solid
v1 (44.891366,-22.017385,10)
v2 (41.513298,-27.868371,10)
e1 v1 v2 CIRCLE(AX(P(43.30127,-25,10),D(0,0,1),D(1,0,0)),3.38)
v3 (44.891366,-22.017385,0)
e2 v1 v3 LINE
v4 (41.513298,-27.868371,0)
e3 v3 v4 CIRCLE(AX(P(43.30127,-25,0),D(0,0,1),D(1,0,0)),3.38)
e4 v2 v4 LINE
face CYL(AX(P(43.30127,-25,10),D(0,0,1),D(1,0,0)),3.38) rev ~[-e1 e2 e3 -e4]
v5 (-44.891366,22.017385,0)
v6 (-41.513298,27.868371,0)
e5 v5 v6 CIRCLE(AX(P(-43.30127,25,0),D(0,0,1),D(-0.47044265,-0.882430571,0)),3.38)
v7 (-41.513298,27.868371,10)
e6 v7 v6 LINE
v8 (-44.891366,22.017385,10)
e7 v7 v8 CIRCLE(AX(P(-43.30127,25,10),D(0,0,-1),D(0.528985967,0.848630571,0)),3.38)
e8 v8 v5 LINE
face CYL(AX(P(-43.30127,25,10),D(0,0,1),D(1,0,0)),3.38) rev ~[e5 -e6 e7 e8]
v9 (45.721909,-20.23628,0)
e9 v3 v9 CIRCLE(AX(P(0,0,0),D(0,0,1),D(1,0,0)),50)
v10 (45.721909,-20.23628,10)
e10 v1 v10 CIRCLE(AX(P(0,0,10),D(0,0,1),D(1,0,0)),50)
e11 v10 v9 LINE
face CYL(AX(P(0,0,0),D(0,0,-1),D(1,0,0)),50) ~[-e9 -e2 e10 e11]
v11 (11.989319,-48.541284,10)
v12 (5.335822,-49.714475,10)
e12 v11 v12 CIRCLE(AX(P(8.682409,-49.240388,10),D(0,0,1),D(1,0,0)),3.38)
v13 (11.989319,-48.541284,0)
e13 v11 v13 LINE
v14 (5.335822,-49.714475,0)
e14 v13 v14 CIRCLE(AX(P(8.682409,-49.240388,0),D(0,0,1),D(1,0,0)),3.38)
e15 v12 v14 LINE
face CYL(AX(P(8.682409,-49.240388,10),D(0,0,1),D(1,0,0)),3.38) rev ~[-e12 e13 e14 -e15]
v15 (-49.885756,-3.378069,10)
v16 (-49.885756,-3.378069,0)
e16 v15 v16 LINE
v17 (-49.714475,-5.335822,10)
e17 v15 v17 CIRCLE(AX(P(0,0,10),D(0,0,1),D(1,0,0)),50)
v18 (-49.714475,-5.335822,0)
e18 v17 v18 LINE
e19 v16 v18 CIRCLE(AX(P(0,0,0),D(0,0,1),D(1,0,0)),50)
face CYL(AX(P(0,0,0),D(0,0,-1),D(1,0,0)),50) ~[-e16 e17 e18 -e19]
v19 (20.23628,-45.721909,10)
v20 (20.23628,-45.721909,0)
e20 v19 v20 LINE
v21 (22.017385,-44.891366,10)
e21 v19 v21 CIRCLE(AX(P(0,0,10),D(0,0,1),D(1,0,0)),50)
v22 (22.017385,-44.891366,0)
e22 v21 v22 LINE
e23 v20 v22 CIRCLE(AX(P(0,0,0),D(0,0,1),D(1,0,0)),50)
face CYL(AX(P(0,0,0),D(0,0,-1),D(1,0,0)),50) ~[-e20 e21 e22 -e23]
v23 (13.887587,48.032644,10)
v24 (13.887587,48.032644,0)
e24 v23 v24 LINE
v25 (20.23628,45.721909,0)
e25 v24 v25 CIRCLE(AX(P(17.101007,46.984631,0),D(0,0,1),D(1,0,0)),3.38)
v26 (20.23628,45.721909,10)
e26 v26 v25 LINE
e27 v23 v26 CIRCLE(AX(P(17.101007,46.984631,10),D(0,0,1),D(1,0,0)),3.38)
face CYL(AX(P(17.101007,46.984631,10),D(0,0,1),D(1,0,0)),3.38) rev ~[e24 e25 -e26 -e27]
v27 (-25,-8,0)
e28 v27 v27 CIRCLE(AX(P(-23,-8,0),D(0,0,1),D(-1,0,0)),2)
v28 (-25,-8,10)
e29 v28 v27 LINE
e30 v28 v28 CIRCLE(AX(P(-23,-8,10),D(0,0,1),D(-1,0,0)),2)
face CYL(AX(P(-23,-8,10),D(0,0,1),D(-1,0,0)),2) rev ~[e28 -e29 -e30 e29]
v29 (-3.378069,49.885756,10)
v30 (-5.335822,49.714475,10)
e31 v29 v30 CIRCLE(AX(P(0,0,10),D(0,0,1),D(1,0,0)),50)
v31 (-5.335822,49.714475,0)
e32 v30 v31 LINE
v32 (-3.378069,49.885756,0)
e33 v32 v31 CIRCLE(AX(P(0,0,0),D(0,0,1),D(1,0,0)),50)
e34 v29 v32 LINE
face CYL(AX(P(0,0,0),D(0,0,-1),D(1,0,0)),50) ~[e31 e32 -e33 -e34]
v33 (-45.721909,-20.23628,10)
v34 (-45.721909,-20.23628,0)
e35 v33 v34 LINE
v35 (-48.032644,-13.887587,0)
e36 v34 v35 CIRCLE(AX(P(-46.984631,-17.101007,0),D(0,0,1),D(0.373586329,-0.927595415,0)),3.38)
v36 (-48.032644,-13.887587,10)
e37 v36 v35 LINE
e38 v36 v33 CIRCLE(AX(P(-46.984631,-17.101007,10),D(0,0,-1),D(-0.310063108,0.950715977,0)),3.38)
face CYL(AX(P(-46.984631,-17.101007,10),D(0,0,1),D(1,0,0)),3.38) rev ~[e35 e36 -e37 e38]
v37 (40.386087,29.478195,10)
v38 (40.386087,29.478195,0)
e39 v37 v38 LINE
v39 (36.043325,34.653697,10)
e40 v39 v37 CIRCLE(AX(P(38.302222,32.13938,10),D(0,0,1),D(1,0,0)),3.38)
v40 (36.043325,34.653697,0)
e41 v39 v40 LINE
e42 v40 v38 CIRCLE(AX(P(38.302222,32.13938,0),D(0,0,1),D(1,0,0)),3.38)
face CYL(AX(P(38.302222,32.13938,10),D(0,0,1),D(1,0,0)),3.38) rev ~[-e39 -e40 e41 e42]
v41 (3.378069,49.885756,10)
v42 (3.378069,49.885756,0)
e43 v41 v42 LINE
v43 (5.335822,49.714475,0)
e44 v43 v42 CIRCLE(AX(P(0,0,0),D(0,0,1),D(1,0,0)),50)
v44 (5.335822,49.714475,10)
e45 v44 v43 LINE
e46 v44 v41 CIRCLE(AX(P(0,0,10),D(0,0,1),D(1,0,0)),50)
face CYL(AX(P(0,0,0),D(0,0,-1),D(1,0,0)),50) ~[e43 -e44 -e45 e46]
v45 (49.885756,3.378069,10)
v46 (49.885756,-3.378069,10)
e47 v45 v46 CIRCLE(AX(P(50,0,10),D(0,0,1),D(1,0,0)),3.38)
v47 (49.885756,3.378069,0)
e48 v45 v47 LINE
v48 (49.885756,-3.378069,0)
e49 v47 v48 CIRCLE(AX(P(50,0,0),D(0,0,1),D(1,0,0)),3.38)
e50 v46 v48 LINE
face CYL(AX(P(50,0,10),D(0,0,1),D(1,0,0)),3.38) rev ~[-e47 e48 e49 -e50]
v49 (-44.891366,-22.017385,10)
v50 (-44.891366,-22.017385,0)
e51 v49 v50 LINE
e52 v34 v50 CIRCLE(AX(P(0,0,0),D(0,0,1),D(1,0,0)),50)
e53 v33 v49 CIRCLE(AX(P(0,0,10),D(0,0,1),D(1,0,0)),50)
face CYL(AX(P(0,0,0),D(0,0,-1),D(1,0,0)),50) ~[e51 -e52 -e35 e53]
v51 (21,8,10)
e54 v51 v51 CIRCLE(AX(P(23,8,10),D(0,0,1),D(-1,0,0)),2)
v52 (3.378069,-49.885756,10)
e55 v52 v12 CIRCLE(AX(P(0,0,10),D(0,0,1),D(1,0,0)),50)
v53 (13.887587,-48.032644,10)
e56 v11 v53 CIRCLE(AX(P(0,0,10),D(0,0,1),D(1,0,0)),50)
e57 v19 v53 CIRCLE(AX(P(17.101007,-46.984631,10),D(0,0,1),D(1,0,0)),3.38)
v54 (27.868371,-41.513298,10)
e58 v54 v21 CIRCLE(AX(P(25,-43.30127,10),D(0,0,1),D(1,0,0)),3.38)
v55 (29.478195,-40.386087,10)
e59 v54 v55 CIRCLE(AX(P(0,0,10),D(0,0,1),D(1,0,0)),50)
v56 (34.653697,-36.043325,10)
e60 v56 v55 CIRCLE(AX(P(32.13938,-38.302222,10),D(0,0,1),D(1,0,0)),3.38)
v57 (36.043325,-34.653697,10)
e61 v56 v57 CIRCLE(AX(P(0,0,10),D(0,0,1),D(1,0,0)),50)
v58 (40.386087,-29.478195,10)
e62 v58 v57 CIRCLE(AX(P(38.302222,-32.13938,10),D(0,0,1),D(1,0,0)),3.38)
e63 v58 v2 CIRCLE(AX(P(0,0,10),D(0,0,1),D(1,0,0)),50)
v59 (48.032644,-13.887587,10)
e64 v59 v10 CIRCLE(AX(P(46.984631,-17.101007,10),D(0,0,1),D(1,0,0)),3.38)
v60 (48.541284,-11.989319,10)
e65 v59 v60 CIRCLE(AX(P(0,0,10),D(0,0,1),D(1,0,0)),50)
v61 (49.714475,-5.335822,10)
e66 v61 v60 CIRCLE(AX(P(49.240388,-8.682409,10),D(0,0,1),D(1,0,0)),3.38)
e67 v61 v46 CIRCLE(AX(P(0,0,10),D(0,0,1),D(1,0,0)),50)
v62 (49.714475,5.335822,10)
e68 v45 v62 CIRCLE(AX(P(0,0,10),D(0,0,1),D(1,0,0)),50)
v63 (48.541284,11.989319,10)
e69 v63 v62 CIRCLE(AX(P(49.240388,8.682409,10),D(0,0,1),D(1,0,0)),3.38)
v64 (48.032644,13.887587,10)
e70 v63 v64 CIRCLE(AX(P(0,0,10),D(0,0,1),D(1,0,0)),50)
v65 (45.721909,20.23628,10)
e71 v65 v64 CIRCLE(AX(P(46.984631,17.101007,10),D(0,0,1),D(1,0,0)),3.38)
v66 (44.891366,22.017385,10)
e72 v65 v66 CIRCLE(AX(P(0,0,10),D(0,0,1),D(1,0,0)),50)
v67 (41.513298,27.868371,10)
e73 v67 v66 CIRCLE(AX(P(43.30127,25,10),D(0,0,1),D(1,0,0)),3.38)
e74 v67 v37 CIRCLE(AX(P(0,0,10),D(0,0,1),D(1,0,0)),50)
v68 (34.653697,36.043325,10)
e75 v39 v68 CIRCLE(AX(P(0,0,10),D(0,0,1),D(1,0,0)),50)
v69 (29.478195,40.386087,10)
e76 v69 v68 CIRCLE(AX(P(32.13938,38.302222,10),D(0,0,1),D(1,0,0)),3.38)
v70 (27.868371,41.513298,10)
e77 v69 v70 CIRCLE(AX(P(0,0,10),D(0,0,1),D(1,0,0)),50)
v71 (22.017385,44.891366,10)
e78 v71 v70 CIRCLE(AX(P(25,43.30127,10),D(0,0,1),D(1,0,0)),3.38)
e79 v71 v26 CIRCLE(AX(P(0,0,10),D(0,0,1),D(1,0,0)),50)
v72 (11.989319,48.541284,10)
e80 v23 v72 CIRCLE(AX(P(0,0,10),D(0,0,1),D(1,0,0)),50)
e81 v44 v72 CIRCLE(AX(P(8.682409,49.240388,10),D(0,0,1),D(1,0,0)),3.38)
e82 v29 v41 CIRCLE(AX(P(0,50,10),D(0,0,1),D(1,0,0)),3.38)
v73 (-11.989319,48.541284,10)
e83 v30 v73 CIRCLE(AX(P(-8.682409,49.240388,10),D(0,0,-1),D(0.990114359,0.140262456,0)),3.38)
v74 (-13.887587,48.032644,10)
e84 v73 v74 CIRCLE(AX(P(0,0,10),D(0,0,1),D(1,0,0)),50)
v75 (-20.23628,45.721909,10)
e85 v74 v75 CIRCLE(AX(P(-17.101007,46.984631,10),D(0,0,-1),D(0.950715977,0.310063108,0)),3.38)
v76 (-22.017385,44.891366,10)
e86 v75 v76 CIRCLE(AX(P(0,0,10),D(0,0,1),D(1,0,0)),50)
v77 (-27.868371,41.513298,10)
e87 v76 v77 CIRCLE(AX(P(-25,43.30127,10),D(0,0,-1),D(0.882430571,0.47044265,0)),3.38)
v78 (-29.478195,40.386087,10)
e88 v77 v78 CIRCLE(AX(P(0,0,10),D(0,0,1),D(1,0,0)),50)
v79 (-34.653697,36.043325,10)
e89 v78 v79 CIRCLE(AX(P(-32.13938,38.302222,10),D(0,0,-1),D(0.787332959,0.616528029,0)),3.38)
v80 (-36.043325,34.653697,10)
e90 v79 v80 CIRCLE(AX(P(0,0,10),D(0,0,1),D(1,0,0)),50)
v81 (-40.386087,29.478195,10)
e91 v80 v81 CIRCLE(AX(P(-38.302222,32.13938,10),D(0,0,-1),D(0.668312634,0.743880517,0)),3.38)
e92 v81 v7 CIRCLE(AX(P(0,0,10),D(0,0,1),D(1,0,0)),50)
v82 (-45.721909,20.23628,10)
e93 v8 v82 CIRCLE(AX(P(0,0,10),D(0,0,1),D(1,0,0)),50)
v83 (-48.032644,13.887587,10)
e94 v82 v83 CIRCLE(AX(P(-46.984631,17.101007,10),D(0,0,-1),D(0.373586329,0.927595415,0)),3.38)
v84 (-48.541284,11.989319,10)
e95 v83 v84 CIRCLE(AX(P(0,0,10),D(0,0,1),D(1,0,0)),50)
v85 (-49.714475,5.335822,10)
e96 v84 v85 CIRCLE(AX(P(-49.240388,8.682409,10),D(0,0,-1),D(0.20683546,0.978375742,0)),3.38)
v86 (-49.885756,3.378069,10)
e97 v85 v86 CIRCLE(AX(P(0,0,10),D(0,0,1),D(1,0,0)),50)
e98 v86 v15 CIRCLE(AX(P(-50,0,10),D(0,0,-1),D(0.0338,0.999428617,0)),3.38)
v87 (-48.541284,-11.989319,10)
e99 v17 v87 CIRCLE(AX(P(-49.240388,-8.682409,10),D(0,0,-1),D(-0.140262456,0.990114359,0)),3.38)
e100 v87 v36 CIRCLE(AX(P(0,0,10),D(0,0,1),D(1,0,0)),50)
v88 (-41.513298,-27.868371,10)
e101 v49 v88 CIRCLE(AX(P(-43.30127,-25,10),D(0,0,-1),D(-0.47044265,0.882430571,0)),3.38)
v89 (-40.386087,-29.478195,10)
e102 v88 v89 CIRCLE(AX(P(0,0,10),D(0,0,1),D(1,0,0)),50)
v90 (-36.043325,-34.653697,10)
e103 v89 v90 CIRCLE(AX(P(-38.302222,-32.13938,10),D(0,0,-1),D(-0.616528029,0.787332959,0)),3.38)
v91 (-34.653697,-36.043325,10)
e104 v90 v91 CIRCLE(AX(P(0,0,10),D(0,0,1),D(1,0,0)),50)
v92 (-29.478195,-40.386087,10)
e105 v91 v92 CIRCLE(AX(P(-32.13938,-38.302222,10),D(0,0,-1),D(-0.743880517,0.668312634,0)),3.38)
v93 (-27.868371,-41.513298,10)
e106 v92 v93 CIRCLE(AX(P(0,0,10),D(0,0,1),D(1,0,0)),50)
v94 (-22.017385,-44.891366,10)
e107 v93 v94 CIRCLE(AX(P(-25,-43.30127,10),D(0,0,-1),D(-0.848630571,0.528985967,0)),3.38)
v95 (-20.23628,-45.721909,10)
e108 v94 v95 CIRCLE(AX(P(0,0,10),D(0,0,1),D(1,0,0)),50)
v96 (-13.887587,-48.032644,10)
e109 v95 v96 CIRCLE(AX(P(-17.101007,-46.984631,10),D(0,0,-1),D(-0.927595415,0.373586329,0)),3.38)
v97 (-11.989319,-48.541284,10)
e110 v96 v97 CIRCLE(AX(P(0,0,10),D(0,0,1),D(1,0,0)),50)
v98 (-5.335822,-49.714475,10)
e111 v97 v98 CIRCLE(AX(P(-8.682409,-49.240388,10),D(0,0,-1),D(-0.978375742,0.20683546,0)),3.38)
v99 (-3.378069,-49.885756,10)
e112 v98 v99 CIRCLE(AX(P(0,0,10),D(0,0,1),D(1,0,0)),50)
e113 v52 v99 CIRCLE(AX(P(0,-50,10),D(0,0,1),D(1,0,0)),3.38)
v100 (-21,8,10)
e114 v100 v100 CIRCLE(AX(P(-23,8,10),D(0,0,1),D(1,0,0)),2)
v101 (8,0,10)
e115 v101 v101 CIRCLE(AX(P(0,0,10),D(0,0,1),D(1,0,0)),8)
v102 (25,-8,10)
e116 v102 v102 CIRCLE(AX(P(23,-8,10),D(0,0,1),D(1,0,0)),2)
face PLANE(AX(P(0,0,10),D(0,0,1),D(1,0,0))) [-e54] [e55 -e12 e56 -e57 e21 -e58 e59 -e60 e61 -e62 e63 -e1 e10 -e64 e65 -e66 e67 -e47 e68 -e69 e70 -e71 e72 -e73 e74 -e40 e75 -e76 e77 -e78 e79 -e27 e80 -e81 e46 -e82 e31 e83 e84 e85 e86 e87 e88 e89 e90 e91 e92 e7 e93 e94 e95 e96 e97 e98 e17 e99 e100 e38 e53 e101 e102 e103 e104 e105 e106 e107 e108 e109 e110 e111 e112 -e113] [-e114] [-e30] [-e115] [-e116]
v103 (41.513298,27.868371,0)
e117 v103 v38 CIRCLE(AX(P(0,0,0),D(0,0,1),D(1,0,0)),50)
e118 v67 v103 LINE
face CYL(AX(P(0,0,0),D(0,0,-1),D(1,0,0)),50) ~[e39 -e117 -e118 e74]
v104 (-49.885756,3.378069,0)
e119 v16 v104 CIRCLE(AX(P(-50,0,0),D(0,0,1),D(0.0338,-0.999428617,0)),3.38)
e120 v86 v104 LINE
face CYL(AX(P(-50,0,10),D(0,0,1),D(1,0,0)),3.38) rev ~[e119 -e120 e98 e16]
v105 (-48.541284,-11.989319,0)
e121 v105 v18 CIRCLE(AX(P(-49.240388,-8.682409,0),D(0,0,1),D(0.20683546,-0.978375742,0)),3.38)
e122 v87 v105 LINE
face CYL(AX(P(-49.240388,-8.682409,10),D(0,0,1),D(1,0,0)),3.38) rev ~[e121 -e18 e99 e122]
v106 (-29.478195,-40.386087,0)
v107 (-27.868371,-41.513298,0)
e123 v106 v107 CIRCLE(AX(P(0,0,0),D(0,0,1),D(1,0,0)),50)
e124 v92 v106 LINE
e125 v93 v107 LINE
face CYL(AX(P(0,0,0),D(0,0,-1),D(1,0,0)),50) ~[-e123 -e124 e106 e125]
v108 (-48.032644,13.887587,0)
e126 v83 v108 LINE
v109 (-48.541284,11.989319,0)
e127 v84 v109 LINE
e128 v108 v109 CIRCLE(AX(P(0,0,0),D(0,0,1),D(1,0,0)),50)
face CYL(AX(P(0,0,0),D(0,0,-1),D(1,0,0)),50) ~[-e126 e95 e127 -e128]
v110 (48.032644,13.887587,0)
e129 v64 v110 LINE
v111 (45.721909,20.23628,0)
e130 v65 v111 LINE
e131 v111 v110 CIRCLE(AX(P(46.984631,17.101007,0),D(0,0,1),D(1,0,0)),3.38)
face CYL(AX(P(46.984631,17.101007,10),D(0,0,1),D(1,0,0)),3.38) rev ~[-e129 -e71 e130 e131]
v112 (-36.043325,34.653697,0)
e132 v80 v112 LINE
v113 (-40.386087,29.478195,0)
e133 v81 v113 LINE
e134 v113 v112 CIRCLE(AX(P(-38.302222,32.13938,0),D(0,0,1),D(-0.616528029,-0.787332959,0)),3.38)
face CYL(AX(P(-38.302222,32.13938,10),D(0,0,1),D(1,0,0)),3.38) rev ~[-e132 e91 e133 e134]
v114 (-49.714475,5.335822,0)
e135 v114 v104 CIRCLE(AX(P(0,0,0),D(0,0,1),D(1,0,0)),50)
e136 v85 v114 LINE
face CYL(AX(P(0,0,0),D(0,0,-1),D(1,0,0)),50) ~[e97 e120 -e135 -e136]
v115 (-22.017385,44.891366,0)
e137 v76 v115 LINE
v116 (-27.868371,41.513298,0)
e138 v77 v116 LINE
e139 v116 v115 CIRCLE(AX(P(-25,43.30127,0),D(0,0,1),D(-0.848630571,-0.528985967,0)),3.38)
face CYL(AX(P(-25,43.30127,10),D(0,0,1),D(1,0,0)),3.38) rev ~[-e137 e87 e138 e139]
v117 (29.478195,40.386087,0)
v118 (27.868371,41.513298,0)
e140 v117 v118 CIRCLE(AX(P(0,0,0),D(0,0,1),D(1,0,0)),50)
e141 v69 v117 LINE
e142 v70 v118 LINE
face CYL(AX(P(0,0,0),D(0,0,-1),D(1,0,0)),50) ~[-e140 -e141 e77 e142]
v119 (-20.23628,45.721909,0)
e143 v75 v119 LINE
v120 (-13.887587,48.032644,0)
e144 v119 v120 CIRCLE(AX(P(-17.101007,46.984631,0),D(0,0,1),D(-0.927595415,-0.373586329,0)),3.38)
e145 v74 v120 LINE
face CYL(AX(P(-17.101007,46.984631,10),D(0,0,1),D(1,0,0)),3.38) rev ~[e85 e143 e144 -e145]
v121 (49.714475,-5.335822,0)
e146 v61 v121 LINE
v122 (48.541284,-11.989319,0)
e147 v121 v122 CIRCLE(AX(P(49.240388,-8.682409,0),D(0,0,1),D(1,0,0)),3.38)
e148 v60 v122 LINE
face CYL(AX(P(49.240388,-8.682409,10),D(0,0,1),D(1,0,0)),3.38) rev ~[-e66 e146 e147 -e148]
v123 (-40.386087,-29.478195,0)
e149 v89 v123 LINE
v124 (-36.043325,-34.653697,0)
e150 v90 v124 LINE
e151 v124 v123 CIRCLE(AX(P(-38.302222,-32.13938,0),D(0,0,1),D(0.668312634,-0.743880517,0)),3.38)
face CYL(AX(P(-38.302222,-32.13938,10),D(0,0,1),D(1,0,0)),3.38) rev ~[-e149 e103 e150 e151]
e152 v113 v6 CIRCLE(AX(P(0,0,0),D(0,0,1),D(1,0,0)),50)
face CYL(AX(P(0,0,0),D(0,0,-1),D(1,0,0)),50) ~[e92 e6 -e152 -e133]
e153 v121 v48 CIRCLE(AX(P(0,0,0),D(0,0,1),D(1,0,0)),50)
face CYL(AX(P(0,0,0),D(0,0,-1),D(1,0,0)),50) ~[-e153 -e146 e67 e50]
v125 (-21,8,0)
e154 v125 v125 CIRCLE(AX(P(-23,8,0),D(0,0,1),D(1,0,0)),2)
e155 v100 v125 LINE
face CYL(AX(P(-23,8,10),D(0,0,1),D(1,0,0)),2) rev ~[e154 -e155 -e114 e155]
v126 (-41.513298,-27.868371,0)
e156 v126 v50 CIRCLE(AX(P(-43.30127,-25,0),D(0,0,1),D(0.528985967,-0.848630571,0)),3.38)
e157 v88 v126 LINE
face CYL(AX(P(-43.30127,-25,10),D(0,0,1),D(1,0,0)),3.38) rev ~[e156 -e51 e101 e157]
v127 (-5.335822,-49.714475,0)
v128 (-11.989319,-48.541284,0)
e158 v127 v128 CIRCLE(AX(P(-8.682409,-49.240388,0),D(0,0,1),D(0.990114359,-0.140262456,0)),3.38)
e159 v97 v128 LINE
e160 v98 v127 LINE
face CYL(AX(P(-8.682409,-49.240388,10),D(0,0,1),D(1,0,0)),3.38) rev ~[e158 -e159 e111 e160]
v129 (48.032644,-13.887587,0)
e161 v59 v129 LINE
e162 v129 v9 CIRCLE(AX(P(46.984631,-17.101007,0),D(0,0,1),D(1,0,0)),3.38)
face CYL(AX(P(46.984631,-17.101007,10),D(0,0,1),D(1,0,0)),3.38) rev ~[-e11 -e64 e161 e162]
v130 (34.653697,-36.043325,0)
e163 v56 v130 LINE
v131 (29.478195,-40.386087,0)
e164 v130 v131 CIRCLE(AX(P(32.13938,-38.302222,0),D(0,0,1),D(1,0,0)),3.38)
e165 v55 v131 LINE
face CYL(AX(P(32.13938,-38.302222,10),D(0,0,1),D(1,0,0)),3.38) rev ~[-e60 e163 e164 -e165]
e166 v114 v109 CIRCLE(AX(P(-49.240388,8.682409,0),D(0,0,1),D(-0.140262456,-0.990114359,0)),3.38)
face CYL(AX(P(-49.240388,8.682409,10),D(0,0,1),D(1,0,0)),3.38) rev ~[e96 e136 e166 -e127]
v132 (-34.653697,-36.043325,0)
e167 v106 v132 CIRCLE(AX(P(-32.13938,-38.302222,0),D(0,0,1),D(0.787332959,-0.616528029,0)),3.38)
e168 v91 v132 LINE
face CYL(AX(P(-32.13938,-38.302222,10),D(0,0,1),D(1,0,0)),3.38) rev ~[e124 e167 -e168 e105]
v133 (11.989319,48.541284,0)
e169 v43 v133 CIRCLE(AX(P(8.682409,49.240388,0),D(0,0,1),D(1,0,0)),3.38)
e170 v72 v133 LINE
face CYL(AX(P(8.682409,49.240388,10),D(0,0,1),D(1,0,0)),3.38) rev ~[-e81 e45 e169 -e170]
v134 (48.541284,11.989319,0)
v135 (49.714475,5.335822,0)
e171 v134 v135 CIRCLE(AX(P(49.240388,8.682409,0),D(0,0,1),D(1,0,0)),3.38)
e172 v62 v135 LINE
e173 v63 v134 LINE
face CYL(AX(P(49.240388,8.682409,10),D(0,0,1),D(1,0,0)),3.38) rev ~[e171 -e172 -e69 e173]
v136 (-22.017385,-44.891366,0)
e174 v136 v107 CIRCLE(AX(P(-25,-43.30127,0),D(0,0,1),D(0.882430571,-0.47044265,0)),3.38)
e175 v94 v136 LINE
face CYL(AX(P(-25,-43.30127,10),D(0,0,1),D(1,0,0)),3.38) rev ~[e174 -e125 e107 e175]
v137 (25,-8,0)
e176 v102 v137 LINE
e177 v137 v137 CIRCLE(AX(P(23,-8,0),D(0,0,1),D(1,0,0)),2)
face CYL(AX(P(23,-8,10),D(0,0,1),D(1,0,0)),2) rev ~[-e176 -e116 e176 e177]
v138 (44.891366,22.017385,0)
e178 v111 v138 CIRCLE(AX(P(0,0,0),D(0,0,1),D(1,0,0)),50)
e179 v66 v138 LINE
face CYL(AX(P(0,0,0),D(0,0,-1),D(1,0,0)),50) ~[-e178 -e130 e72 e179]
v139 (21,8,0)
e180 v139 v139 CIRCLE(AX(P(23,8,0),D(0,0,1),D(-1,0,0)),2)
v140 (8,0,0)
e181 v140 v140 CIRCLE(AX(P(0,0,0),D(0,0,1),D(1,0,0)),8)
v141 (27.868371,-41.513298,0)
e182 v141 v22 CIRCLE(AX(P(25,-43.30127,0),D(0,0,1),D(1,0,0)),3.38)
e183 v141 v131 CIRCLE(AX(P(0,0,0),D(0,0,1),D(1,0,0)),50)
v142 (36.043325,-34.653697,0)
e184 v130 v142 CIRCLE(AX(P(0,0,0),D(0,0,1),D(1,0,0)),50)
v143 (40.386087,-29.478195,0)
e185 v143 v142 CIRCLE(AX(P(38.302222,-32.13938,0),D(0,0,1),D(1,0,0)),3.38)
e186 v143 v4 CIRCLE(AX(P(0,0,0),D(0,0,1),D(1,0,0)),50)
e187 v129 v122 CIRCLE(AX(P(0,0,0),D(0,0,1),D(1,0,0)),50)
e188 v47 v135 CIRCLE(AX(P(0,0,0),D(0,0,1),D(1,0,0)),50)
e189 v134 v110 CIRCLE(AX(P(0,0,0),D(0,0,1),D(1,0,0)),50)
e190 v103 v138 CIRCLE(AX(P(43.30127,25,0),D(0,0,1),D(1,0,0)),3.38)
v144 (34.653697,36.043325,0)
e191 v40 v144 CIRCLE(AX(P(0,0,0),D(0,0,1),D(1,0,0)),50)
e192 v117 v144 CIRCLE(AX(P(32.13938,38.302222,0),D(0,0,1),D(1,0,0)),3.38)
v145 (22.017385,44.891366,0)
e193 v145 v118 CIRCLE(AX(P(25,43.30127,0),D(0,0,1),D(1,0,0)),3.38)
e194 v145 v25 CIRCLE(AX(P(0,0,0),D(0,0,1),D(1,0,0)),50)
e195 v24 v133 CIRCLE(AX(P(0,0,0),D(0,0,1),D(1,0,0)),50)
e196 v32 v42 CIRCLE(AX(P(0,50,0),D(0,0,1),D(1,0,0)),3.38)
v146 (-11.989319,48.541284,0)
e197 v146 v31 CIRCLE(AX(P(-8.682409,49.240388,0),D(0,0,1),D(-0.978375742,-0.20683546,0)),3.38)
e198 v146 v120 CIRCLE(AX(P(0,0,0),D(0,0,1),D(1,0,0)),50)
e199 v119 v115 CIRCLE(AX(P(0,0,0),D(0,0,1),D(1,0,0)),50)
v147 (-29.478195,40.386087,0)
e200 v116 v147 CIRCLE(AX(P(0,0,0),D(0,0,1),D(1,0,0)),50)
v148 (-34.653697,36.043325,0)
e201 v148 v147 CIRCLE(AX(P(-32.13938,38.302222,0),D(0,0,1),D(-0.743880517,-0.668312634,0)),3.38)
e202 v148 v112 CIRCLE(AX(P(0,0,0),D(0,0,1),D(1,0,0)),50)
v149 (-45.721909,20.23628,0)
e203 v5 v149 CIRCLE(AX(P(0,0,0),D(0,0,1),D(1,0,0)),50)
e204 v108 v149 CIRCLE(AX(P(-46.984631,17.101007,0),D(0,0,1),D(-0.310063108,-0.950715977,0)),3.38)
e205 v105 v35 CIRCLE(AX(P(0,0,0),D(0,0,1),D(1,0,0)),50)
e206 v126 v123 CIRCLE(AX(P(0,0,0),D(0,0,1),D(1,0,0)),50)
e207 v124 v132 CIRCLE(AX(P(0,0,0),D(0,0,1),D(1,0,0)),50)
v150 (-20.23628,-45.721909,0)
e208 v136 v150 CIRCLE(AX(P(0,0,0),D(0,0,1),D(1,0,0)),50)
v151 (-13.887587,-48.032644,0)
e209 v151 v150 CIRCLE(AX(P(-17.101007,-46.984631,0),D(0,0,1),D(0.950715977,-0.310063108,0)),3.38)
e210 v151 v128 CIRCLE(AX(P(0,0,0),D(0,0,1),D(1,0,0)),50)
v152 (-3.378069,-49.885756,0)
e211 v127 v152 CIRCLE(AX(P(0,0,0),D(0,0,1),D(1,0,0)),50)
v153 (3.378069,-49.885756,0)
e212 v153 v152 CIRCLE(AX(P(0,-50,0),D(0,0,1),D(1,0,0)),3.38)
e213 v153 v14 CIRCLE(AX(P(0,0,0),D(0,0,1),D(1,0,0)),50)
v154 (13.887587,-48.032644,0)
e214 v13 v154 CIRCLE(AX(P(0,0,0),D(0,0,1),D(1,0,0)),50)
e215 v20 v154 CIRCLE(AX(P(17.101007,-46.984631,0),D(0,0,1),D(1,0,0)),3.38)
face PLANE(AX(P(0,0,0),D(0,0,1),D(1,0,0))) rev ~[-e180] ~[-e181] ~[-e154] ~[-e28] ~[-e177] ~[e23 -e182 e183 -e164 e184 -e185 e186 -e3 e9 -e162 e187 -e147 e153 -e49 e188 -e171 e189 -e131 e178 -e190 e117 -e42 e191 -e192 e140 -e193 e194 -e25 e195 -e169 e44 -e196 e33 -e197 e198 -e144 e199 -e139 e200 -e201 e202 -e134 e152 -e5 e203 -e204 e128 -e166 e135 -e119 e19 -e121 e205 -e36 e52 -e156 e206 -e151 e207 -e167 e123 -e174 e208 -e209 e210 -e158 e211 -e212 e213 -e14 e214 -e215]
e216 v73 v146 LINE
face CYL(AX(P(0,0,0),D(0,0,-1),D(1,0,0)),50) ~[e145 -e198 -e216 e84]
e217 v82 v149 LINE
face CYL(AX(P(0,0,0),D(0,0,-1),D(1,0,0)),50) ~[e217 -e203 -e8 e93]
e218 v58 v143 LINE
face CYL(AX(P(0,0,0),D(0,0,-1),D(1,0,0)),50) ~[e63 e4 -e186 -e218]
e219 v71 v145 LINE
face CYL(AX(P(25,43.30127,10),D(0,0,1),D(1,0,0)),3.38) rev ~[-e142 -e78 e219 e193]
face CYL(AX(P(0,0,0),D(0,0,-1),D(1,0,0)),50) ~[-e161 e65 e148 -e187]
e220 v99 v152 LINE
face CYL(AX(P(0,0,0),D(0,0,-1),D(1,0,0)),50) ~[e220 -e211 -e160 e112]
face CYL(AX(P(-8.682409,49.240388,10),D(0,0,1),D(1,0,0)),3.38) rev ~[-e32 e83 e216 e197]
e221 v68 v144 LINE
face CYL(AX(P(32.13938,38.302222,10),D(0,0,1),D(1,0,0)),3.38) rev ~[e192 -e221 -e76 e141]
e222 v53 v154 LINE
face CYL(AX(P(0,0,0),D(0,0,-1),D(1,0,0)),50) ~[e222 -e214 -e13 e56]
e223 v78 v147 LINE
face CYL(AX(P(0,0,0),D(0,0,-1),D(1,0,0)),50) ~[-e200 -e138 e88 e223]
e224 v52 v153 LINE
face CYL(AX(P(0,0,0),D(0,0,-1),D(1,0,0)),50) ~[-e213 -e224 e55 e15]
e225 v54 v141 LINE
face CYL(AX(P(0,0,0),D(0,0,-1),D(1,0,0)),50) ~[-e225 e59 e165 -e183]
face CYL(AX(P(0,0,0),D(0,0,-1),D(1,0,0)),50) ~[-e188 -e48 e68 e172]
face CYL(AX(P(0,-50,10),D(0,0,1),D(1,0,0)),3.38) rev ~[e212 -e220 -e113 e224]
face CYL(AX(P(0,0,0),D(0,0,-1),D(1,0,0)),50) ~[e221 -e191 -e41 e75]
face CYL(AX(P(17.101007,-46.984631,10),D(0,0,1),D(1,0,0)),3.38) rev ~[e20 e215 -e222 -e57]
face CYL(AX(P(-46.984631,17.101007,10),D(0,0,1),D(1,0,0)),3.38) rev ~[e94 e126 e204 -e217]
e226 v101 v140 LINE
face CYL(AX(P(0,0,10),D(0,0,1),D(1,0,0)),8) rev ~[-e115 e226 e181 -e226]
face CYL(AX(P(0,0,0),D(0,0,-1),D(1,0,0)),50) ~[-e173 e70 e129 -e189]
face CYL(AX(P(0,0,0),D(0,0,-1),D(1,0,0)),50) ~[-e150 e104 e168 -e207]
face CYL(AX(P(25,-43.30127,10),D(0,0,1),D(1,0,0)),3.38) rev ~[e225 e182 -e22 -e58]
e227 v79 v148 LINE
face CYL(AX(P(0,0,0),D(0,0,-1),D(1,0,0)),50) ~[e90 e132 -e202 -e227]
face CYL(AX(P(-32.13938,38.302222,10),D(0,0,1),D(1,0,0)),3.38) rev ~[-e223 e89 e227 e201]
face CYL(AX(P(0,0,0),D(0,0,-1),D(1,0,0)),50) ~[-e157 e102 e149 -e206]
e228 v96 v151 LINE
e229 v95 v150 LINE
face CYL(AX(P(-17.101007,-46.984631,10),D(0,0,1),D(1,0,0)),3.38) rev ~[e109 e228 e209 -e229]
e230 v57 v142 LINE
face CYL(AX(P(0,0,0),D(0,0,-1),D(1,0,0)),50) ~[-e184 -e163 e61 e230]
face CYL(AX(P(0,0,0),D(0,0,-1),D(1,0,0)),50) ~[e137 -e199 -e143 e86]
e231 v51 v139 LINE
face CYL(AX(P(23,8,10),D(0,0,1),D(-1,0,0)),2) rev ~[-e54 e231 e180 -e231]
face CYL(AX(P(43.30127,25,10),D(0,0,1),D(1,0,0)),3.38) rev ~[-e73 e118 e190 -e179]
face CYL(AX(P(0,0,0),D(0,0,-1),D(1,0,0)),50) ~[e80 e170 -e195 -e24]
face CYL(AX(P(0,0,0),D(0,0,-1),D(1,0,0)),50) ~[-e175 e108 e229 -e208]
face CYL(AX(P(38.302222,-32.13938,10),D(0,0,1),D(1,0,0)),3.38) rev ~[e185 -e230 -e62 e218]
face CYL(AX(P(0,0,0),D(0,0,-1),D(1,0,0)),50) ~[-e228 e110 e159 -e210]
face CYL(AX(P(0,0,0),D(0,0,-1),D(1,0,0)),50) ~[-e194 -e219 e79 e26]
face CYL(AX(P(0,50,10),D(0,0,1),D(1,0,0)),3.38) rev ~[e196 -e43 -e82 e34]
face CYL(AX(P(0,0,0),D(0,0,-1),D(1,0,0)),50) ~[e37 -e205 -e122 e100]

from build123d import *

# Parameters (mm, degrees)
SKETCH_1_R          = 50
EXTRUDE_1_DEPTH     = 10
SKETCH_4_R          = 8
CUT_EXTRUDE_3_DEPTH = 10
SKETCH_5_R          = 2
CUT_EXTRUDE_4_DEPTH = 10
SKETCH_6_R          = 3.38
CUT_EXTRUDE_5_DEPTH = 72.414284285


with BuildPart() as part:
    # 스케치1 → 보스-돌출1 (new body)
    with BuildSketch(Plane.XY):
        Circle(SKETCH_1_R)
    extrude(amount=EXTRUDE_1_DEPTH)

    # 스케치4 → 컷-돌출3 (cut)
    with BuildSketch(Plane.XY.offset(10)):
        Circle(SKETCH_4_R)
    extrude(amount=-CUT_EXTRUDE_3_DEPTH, mode=Mode.SUBTRACT)

    # 스케치5 → 컷-돌출4 (cut)
    with BuildSketch(Plane.XY.offset(10)):
        with Locations((-23, 8)):
            Circle(SKETCH_5_R)
        with Locations(Location((23, 8, 0), (0, 0, 180))):
            Circle(SKETCH_5_R)
        with Locations((23, -8)):
            Circle(SKETCH_5_R)
        with Locations(Location((-23, -8, 0), (0, 0, 180))):
            Circle(SKETCH_5_R)
    extrude(amount=-CUT_EXTRUDE_4_DEPTH, mode=Mode.SUBTRACT)

    # 스케치6 → 컷-돌출5 (cut, through all)
    with BuildSketch(Plane.XY.offset(10)):
        with Locations((0, 50)):
            Circle(SKETCH_6_R)
        with Locations((8.682408883, 49.240387651)):
            Circle(SKETCH_6_R)
        with Locations((17.101007166, 46.984631039)):
            Circle(SKETCH_6_R)
        with Locations((25, 43.301270189)):
            Circle(SKETCH_6_R)
        with Locations((32.139380484, 38.302222156)):
            Circle(SKETCH_6_R)
        with Locations((38.302222156, 32.139380484)):
            Circle(SKETCH_6_R)
        with Locations((43.301270189, 25)):
            Circle(SKETCH_6_R)
        with Locations((46.984631039, 17.101007166)):
            Circle(SKETCH_6_R)
        with Locations((49.240387651, 8.682408883)):
            Circle(SKETCH_6_R)
        with Locations((50, 0)):
            Circle(SKETCH_6_R)
        with Locations((49.240387651, -8.682408883)):
            Circle(SKETCH_6_R)
        with Locations((46.984631039, -17.101007166)):
            Circle(SKETCH_6_R)
        with Locations((43.301270189, -25)):
            Circle(SKETCH_6_R)
        with Locations((38.302222156, -32.139380484)):
            Circle(SKETCH_6_R)
        with Locations((32.139380484, -38.302222156)):
            Circle(SKETCH_6_R)
        with Locations((25, -43.301270189)):
            Circle(SKETCH_6_R)
        with Locations((17.101007166, -46.984631039)):
            Circle(SKETCH_6_R)
        with Locations((8.682408883, -49.240387651)):
            Circle(SKETCH_6_R)
        with Locations((0, -50)):
            Circle(SKETCH_6_R)
        with Locations((-8.682408883, -49.240387651)):
            Circle(SKETCH_6_R)
        with Locations((-17.101007166, -46.984631039)):
            Circle(SKETCH_6_R)
        with Locations((-25, -43.301270189)):
            Circle(SKETCH_6_R)
        with Locations((-32.139380484, -38.302222156)):
            Circle(SKETCH_6_R)
        with Locations((-38.302222156, -32.139380484)):
            Circle(SKETCH_6_R)
        with Locations((-43.301270189, -25)):
            Circle(SKETCH_6_R)
        with Locations((-46.984631039, -17.101007166)):
            Circle(SKETCH_6_R)
        with Locations((-49.240387651, -8.682408883)):
            Circle(SKETCH_6_R)
        with Locations((-50, 0)):
            Circle(SKETCH_6_R)
        with Locations((-49.240387651, 8.682408883)):
            Circle(SKETCH_6_R)
        with Locations((-46.984631039, 17.101007166)):
            Circle(SKETCH_6_R)
        with Locations((-43.301270189, 25)):
            Circle(SKETCH_6_R)
        with Locations((-38.302222156, 32.139380484)):
            Circle(SKETCH_6_R)
        with Locations((-32.139380484, 38.302222156)):
            Circle(SKETCH_6_R)
        with Locations((-25, 43.301270189)):
            Circle(SKETCH_6_R)
        with Locations((-17.101007166, 46.984631039)):
            Circle(SKETCH_6_R)
        with Locations((-8.682408883, 49.240387651)):
            Circle(SKETCH_6_R)
    extrude(amount=-CUT_EXTRUDE_5_DEPTH, mode=Mode.SUBTRACT)


solid = part.part
